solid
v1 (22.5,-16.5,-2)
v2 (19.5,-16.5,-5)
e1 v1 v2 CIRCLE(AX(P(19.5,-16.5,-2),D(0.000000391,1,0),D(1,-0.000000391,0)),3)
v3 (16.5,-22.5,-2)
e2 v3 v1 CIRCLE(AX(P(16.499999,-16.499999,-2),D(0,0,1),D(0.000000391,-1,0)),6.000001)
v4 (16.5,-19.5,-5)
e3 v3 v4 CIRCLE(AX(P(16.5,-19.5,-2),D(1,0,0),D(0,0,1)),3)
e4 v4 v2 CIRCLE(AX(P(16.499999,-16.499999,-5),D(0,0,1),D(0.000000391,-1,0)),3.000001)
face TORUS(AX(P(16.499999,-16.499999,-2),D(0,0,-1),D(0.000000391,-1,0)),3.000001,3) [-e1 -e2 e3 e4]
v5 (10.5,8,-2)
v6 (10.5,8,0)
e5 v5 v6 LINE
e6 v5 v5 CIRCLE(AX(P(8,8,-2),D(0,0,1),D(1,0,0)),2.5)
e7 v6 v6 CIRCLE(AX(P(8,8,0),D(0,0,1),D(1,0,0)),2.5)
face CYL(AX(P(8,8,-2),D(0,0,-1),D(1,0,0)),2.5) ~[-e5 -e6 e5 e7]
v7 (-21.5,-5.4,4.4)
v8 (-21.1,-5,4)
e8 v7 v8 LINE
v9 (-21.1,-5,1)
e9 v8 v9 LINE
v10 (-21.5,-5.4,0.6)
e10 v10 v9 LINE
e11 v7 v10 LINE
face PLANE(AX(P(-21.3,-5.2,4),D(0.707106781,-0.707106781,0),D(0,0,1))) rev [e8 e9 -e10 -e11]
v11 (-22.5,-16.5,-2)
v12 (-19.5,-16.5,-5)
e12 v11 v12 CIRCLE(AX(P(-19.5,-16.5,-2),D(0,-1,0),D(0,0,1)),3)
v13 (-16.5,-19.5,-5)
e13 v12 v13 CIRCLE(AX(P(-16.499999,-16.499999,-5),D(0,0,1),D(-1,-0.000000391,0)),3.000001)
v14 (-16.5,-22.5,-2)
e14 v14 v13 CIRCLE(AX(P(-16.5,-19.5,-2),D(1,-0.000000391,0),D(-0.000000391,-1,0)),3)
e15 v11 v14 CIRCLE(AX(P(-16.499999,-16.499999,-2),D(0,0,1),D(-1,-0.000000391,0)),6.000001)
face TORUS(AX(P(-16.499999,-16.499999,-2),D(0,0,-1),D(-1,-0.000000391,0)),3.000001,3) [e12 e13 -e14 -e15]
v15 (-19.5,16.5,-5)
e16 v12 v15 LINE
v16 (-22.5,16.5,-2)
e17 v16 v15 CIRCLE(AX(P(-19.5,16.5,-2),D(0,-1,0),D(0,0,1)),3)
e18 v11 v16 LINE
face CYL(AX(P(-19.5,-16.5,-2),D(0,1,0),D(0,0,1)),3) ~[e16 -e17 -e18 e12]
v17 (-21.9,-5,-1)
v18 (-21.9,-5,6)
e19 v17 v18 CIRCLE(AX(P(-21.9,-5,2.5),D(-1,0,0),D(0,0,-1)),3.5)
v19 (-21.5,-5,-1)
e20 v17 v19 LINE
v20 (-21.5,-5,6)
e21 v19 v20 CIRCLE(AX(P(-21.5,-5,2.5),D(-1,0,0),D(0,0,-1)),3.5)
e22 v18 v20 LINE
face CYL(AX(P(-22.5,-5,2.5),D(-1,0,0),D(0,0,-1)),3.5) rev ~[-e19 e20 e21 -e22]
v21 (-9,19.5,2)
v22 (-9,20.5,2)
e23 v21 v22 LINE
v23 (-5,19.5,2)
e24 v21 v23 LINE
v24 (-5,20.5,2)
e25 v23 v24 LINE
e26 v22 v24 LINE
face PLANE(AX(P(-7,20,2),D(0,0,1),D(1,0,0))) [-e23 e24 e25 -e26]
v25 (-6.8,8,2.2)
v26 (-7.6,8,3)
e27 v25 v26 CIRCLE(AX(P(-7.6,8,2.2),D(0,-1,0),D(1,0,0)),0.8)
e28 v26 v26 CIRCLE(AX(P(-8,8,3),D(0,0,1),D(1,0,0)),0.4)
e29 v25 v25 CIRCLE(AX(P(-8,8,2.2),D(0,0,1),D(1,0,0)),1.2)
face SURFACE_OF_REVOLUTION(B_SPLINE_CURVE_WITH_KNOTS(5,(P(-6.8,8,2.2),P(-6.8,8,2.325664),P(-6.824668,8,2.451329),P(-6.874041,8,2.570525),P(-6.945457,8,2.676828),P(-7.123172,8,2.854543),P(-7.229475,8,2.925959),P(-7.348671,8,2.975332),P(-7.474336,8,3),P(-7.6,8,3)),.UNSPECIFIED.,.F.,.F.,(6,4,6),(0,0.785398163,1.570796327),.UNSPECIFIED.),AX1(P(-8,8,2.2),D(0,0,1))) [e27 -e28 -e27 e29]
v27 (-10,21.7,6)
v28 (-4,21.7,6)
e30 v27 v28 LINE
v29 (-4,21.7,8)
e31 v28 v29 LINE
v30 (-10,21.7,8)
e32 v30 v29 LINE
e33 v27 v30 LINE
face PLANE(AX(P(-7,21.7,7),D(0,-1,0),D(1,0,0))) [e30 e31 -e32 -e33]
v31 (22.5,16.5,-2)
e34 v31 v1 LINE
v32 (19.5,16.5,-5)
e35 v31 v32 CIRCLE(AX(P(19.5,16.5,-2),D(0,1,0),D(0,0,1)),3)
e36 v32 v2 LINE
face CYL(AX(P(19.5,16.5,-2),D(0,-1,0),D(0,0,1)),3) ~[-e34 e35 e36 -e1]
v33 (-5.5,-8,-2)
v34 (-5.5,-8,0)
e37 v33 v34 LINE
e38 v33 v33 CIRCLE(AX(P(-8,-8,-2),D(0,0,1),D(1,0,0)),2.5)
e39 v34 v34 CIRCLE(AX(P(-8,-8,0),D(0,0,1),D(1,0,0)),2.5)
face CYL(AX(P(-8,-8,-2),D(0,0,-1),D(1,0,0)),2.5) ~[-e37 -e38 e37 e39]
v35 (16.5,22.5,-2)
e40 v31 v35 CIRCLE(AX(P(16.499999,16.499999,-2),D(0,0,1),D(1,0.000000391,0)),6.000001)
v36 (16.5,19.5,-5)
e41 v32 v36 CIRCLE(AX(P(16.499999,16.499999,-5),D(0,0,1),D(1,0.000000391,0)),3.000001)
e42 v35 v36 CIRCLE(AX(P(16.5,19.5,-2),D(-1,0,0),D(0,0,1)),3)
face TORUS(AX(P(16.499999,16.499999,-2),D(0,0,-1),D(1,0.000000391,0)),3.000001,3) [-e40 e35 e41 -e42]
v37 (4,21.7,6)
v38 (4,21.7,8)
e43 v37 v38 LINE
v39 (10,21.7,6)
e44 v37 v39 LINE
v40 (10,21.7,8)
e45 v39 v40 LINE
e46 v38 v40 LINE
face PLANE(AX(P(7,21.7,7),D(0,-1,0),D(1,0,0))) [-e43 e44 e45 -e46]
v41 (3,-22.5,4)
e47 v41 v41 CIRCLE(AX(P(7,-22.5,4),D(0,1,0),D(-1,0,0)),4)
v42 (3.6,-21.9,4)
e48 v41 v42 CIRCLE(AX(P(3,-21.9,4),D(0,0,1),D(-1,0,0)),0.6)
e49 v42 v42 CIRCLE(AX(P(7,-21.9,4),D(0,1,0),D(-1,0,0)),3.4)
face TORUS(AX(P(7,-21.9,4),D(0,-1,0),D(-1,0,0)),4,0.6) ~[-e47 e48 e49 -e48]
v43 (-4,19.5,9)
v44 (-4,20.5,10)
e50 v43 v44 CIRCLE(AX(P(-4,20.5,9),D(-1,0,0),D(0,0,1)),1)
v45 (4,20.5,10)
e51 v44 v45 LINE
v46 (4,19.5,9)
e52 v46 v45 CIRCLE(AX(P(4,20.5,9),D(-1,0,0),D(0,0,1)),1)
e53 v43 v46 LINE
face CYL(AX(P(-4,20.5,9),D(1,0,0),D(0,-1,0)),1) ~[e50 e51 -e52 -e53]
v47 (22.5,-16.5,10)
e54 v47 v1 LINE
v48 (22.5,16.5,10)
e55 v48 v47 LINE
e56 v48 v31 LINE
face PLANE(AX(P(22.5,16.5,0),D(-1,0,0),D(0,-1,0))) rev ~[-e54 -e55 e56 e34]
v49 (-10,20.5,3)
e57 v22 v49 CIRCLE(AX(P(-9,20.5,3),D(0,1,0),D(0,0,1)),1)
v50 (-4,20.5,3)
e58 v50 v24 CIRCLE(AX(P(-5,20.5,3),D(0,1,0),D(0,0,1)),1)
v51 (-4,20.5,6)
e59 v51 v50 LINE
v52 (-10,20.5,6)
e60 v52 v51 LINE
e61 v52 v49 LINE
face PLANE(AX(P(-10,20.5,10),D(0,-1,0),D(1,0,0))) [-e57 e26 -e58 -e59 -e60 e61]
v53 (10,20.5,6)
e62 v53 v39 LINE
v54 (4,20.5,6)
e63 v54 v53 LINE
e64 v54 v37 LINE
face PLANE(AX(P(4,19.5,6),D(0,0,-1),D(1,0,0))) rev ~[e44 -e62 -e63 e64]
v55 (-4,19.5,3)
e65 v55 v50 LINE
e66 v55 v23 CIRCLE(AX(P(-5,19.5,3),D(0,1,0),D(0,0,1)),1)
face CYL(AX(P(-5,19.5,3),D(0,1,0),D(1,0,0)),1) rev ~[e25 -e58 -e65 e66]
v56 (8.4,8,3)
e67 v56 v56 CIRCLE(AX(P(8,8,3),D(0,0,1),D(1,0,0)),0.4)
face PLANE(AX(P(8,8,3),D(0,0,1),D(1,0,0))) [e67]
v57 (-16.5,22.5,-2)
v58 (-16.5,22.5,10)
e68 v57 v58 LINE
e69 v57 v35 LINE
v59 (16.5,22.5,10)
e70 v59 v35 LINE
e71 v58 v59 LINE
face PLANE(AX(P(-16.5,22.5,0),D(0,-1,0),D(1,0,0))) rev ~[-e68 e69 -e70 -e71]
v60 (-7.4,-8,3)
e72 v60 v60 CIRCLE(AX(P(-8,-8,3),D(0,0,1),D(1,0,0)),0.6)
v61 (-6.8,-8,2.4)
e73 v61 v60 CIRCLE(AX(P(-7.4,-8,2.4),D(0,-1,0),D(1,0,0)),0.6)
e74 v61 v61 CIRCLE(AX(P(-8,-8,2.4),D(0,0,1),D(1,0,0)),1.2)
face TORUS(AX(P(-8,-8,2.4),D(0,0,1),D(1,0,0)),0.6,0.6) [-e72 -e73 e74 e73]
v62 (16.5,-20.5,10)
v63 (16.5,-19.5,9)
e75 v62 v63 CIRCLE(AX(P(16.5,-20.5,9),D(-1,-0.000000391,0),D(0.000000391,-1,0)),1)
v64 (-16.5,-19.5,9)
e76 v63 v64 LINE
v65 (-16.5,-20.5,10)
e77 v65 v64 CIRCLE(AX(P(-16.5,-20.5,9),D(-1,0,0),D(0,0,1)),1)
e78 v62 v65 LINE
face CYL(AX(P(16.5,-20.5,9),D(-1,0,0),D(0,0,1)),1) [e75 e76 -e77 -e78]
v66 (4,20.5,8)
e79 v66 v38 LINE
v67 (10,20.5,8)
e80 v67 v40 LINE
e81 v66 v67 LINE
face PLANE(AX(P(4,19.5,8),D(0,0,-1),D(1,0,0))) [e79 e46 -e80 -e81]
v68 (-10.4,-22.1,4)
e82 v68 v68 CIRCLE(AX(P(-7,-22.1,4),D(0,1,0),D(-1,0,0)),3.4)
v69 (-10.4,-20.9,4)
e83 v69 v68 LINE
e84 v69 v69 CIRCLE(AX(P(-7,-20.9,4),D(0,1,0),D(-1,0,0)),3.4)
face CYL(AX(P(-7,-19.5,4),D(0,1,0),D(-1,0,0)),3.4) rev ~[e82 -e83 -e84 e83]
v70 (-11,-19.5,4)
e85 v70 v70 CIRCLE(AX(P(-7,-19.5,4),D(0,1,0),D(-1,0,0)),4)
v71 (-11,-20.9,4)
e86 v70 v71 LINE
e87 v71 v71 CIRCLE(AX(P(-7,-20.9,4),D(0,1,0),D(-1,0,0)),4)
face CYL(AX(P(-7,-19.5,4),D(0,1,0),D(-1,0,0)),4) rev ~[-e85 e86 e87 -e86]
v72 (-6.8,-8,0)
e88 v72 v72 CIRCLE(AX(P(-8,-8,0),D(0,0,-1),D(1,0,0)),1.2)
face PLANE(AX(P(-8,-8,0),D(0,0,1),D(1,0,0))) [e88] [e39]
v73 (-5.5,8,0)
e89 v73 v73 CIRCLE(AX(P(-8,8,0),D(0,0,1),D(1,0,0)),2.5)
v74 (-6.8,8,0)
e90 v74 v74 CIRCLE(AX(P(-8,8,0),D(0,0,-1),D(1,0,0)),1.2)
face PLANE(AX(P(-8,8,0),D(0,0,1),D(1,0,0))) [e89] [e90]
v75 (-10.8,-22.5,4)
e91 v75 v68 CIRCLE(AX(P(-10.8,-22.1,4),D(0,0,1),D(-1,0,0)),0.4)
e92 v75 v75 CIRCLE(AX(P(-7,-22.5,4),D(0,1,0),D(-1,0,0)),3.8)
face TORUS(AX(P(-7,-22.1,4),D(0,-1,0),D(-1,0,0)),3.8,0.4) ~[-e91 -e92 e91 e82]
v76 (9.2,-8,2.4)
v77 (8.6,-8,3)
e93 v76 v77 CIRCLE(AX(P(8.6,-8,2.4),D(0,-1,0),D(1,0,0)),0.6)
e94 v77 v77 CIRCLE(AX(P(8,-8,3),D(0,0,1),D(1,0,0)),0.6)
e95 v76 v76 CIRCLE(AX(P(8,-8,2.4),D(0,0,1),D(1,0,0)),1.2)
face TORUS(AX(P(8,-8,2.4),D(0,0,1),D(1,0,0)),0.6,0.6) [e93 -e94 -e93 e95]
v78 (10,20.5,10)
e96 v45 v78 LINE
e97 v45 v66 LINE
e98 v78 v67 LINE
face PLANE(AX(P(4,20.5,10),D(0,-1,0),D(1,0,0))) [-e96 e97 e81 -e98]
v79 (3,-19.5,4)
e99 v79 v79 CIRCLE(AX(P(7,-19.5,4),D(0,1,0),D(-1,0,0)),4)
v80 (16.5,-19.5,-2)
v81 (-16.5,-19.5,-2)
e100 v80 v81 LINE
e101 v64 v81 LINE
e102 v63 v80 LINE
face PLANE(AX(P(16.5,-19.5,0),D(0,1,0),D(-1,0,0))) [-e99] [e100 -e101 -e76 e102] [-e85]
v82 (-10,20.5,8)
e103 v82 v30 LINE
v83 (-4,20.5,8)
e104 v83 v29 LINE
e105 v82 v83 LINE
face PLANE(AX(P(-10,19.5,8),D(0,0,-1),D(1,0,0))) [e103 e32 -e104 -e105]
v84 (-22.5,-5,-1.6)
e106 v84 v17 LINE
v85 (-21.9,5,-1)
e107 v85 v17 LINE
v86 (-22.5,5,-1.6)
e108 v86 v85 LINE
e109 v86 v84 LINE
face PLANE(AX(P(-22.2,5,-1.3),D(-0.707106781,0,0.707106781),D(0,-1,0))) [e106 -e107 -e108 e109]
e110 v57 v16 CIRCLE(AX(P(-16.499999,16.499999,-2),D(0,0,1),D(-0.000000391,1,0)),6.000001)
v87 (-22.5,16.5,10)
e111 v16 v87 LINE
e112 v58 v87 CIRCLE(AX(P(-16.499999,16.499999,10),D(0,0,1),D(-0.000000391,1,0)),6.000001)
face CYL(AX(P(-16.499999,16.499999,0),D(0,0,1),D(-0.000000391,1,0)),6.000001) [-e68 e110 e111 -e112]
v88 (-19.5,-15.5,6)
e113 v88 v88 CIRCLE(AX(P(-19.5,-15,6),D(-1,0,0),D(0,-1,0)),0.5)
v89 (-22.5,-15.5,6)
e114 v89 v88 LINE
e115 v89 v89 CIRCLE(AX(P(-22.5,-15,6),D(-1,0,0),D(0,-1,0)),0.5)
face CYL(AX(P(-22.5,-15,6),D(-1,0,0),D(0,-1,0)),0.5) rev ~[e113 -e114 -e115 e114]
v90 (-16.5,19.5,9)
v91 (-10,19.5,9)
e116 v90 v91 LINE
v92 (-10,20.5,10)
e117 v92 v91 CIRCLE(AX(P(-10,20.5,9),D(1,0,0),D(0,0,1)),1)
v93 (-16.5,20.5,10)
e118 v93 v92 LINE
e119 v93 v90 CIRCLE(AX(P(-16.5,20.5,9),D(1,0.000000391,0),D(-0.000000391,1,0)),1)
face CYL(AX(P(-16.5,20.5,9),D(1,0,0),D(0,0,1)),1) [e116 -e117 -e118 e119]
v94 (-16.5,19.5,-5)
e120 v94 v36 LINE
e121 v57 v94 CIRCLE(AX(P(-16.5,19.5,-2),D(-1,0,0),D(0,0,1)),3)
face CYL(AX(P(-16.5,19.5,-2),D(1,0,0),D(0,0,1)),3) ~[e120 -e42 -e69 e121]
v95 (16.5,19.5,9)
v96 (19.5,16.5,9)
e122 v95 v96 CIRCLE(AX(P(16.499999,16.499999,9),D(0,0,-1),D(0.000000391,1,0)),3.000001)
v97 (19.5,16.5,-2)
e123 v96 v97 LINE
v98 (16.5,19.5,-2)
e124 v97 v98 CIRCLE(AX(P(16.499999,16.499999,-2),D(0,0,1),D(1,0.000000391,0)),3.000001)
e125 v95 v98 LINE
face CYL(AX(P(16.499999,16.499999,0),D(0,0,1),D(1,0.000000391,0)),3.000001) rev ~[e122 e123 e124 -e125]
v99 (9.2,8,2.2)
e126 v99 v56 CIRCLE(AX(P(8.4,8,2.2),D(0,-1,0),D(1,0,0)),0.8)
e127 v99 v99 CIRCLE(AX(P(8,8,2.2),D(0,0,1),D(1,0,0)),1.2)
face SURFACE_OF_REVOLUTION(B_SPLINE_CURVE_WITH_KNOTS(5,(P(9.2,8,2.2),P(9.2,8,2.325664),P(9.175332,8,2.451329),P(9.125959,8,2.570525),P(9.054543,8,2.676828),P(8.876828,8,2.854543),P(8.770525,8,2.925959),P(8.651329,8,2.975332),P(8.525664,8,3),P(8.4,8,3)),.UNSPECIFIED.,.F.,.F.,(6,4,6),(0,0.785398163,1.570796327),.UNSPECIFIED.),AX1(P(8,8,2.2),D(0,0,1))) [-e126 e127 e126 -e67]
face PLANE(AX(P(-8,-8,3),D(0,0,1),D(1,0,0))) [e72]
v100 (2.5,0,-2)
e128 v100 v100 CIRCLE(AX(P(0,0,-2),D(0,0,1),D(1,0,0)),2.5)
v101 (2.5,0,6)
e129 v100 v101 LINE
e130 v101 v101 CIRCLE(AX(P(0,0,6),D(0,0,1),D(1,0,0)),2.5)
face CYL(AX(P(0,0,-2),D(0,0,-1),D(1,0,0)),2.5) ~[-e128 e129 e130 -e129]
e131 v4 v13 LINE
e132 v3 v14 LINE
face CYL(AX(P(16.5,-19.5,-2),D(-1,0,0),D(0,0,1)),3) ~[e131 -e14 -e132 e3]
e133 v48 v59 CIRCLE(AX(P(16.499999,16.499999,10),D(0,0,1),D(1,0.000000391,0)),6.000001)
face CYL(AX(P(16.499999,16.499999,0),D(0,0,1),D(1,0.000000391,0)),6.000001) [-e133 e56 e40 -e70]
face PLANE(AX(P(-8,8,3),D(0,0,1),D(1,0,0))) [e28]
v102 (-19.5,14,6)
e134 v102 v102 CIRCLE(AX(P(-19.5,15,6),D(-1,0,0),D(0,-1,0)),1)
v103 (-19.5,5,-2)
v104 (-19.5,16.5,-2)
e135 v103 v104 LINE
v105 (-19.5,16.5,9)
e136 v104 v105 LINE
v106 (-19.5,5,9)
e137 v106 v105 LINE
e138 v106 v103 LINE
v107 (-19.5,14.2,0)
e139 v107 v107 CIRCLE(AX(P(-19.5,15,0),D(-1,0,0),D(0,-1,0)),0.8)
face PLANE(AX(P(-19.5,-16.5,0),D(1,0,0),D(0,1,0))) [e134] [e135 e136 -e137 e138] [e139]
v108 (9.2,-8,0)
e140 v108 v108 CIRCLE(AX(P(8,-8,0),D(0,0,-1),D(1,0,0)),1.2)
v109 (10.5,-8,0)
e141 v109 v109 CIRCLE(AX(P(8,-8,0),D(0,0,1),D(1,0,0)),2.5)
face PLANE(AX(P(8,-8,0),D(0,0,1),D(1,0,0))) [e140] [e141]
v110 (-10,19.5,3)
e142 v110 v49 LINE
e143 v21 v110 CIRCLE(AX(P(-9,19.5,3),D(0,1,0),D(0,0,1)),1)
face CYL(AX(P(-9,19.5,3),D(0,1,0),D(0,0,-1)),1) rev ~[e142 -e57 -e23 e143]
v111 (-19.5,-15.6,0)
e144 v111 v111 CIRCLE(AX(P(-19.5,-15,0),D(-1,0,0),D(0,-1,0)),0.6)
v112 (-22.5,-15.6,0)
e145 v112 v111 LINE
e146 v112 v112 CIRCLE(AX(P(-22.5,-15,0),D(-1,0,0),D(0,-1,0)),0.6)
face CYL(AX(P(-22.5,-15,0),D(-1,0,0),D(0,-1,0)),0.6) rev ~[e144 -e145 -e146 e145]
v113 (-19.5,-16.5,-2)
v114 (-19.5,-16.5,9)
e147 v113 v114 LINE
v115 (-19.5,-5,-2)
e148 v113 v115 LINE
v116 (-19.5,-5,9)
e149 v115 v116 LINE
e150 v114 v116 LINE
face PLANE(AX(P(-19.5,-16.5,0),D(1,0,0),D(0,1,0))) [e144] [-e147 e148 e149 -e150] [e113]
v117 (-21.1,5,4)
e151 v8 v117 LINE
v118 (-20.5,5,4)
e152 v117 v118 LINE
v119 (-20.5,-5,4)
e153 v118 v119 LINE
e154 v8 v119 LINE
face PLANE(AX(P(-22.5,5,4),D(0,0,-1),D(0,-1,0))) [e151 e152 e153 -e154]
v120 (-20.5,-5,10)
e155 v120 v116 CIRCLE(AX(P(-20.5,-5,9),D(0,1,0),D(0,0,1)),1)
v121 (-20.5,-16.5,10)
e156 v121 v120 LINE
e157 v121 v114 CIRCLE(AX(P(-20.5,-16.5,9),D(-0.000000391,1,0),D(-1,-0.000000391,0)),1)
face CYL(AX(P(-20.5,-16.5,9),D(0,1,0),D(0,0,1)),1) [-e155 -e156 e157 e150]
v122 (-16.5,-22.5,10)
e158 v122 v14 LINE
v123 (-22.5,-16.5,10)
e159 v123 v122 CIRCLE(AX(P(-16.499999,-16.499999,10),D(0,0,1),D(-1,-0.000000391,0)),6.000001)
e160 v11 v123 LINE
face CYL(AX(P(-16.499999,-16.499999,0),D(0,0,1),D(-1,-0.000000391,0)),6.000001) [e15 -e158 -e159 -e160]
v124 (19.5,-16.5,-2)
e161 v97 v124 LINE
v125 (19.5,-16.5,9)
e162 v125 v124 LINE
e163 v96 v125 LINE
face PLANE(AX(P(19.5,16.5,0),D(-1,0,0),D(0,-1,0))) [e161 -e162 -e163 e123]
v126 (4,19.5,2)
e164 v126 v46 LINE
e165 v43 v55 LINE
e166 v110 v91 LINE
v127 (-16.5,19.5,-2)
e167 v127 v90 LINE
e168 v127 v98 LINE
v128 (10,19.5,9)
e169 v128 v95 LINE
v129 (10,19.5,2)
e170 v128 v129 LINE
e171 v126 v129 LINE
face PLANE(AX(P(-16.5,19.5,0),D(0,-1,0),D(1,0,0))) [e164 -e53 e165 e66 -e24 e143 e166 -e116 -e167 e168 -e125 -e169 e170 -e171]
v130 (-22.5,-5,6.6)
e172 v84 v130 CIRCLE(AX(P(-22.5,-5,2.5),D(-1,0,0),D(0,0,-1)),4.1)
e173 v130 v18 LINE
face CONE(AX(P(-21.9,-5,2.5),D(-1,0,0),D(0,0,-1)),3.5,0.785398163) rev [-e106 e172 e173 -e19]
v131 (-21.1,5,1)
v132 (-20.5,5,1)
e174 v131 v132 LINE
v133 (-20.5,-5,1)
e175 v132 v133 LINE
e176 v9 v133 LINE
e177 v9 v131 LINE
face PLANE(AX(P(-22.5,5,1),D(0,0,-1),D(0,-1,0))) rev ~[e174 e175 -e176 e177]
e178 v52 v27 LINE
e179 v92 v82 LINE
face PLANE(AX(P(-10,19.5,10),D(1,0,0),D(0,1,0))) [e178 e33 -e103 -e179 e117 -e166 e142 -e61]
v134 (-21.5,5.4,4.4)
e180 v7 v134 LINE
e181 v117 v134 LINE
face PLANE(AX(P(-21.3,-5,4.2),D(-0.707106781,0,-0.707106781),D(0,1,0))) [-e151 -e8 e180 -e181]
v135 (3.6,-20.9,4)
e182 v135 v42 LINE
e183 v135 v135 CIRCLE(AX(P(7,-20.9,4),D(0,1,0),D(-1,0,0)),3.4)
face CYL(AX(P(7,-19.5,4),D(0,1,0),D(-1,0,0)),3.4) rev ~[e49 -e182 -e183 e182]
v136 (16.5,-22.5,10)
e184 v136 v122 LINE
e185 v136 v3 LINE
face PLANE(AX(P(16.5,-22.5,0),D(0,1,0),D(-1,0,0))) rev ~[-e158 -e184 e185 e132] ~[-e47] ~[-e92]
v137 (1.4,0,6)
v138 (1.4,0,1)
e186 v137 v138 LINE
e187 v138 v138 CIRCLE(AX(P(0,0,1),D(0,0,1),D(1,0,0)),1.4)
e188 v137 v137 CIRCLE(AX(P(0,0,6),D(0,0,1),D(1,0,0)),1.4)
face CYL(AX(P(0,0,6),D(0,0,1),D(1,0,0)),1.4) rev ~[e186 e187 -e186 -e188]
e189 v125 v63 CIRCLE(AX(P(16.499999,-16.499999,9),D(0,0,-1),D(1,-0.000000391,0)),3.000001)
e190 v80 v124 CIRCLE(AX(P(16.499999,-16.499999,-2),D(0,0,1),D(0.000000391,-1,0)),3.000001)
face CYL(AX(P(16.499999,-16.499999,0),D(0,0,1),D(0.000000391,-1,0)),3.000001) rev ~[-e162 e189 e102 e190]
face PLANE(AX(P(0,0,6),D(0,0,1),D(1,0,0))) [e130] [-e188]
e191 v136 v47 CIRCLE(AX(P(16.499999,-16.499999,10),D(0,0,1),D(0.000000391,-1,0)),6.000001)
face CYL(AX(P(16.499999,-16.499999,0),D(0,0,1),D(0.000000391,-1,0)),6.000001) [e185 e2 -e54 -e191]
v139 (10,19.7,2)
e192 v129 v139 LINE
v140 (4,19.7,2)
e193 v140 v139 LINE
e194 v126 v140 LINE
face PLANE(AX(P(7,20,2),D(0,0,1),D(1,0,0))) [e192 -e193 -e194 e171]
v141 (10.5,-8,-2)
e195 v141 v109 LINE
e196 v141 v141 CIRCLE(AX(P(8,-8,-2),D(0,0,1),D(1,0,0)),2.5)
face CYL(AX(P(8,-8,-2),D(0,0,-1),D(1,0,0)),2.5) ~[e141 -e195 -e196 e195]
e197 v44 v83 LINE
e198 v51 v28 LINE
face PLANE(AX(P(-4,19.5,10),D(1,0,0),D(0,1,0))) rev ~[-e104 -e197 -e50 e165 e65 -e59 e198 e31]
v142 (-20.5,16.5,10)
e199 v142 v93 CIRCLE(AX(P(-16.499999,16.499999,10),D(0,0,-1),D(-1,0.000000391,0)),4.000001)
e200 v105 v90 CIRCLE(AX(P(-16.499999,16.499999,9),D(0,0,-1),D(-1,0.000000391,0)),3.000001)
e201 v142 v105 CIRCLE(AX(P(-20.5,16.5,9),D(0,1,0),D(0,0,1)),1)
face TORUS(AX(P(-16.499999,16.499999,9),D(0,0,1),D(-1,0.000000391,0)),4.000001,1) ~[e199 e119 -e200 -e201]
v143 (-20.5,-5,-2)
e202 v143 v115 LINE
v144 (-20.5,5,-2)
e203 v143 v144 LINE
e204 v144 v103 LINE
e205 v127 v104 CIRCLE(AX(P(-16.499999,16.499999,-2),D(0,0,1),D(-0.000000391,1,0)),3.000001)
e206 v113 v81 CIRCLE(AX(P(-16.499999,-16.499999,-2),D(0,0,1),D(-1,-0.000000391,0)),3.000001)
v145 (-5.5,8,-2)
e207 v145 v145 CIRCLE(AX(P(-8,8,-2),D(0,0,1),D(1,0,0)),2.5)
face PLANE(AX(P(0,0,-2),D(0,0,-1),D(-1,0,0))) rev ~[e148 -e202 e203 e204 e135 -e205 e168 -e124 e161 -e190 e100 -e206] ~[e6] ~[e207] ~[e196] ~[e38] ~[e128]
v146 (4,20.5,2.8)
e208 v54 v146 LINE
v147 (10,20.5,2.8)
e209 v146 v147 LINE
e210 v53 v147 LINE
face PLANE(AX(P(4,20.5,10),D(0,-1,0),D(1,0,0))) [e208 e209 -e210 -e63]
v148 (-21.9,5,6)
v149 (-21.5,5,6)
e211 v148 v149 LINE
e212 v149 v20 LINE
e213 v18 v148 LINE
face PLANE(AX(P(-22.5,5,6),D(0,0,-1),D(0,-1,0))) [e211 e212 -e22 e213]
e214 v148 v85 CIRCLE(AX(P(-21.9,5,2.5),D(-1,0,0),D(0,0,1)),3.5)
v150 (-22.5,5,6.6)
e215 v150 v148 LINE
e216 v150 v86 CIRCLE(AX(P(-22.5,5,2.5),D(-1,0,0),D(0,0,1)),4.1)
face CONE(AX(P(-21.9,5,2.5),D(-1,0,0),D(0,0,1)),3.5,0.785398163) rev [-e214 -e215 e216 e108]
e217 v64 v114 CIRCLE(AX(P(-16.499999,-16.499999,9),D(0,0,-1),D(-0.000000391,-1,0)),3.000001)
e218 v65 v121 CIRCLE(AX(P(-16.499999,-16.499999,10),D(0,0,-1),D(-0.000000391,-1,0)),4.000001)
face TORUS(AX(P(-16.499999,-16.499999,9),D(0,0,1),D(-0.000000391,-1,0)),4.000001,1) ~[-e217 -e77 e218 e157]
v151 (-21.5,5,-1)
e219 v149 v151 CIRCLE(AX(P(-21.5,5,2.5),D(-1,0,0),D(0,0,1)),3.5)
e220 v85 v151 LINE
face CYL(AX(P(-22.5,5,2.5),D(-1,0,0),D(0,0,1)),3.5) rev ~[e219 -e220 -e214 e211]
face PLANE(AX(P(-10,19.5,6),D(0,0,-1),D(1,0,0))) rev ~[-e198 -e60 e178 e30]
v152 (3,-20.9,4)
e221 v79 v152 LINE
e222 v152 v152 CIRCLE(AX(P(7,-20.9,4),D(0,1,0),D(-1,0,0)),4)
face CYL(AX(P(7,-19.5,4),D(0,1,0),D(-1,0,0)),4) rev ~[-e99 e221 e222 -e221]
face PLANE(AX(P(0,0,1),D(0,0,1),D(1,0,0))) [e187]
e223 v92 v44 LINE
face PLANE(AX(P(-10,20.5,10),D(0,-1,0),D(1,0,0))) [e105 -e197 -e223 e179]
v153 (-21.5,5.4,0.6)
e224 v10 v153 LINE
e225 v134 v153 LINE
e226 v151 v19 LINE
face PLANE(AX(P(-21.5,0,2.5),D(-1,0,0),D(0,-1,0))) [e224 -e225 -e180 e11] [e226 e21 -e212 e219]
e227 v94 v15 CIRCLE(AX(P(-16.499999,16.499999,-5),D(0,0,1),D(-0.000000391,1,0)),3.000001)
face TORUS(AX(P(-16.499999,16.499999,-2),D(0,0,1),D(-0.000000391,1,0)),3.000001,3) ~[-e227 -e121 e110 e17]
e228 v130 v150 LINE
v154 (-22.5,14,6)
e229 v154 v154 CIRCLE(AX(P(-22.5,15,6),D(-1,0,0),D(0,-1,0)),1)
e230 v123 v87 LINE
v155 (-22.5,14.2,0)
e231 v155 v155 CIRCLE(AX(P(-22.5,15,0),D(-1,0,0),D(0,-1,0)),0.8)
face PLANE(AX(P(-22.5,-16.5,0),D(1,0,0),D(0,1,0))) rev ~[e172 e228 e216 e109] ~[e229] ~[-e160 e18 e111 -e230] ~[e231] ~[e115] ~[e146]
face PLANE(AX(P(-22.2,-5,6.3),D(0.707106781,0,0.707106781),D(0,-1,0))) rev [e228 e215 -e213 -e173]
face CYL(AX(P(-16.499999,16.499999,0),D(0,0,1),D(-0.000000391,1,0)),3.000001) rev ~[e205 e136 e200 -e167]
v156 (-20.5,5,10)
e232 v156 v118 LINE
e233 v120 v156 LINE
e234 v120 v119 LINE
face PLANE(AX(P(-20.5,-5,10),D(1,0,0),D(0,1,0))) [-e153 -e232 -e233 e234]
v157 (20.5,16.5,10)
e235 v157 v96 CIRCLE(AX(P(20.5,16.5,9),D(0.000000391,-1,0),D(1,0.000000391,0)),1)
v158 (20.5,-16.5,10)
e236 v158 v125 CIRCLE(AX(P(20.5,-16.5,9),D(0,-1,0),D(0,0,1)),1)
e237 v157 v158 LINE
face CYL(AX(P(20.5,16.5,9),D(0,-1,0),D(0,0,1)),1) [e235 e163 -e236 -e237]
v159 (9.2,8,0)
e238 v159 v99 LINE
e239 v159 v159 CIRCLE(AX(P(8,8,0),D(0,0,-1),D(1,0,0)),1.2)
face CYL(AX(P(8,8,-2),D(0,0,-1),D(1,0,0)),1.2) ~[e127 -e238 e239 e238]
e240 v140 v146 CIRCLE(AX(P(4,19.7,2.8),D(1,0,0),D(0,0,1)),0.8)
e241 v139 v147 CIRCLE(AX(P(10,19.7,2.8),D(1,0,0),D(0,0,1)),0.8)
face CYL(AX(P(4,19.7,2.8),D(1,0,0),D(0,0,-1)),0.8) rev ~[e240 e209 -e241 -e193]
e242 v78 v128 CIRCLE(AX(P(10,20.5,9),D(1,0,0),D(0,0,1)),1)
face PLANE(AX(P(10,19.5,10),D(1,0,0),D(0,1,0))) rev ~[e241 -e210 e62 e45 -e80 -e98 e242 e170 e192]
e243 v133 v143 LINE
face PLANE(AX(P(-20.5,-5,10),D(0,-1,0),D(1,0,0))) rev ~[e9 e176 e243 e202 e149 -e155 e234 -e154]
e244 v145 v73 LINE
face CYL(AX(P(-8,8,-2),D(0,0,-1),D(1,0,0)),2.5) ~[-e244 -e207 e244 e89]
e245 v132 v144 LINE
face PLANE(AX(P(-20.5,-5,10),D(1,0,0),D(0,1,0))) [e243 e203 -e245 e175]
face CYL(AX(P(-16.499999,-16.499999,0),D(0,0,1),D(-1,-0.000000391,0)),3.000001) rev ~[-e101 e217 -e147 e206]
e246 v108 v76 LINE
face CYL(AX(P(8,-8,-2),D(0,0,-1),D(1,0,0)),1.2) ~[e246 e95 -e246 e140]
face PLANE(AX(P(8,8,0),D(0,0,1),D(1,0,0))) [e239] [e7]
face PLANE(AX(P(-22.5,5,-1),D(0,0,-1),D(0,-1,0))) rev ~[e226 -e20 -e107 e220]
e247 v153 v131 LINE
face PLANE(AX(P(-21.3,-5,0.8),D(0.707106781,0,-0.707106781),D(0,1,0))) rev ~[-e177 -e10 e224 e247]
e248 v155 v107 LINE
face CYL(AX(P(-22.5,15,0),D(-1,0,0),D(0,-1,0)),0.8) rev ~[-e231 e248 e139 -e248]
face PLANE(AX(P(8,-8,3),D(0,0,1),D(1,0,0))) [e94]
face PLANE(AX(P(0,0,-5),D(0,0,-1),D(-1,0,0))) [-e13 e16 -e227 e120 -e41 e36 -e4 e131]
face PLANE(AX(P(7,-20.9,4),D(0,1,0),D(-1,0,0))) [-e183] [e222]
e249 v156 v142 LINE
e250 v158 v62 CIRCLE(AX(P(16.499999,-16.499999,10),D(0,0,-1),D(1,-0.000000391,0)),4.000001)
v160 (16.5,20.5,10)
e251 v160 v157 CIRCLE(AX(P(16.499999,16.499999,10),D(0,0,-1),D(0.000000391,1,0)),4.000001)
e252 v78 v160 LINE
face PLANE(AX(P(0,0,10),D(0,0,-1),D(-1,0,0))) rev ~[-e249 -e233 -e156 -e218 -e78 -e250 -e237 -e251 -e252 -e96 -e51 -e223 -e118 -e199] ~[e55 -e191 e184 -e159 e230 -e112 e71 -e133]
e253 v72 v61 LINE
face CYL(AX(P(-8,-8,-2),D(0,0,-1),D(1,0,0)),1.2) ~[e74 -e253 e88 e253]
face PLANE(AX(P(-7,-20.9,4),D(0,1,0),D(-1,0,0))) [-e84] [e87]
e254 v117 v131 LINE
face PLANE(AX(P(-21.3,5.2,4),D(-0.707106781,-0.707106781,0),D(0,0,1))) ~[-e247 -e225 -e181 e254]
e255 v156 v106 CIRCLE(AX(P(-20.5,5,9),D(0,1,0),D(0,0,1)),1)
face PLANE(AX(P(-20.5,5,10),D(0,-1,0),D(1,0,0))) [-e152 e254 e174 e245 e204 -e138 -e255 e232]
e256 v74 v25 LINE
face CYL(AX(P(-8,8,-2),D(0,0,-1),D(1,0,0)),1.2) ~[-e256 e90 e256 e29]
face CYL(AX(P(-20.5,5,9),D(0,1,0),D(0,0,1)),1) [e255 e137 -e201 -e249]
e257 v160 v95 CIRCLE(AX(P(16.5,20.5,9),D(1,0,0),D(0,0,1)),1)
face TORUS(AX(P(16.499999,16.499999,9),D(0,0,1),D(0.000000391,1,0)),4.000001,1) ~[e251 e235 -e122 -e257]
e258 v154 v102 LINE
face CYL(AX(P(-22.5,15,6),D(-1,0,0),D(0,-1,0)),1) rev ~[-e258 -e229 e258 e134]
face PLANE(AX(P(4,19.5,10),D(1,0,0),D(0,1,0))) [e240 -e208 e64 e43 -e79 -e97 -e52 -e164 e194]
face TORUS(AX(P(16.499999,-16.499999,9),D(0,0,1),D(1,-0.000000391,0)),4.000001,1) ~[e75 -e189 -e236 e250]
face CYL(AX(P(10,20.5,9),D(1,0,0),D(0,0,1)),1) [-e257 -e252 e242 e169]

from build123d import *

# Parameters (mm, degrees)
PAD_DEPTH       = 10
PAD_DEPTH_BACK  = 2
THICKNESS_T     = 3
SKETCH002_W     = 10
SKETCH002_H     = 3
POCKET_DEPTH    = 3
POCKET001_DEPTH = 1
SKETCH004_R     = 4
POCKET002_DEPTH = 1.4
SKETCH005_R     = 3.4
POCKET003_DEPTH = 3.001
SKETCH006_W     = 1
SKETCH006_H     = 10
POCKET004_DEPTH = 12
SKETCH007_W     = 6
SKETCH007_H     = 1
POCKET005_DEPTH = 8
SKETCH008_W     = 6
SKETCH008_H     = 2
POCKET006_DEPTH = 2.2
SKETCH009_R     = 2.5
PAD001_DEPTH    = 2
SKETCH010_R     = 1.2
PAD002_DEPTH    = 5
SKETCH011_R     = 0.6
SKETCH011_R_2   = 0.5
SKETCH011_R_3   = 0.8
SKETCH011_R_4   = 1
POCKET007_DEPTH = 3
SKETCH012_R     = 2.5
PAD003_DEPTH    = 8
SKETCH013_R     = 1.4
POCKET008_DEPTH = 5
FILLET001_R     = 0.4
FILLET_R        = 0.6
FILLET002_R     = 0.8
FILLET003_R     = 0.6
CHAMFER_SIZE    = 0.6
CHAMFER001_SIZE = 0.4
FILLET004_R     = 0.8
FILLET005_R     = 1
FILLET006_R     = 1


with BuildPart() as part:
    # Sketch001 → Pad (new body, two sides)
    with BuildSketch(Plane.XY) as pad_sk:
        with BuildLine():
            Line((-16.5, 19.5), (16.5, 19.5))
            ThreePointArc((19.5, 16.5), (18.62132, 18.62132), (16.5, 19.5))
            Line((19.5, 16.5), (19.5, -16.5))
            ThreePointArc((16.5, -19.5), (18.62132, -18.62132), (19.5, -16.5))
            Line((16.5, -19.5), (-16.5, -19.5))
            ThreePointArc((-19.5, -16.5), (-18.62132, -18.62132), (-16.5, -19.5))
            Line((-19.5, -16.5), (-19.5, 16.5))
            ThreePointArc((-16.5, 19.5), (-18.62132, 18.62132), (-19.5, 16.5))
        make_face()
    extrude(amount=PAD_DEPTH)
    extrude(pad_sk.sketch, amount=-PAD_DEPTH_BACK)

    # Thickness
    thickness_openings = [part.faces().sort_by_distance(p)[0] for p in [
        (0, 0, 10),
    ]]
    offset(amount=THICKNESS_T, openings=thickness_openings)

    # Sketch002 (on Face17 of Thickness) → Pocket (cut)
    with BuildSketch(Plane(origin=(-22.5, 0, 0), x_dir=(0, -1, 0), z_dir=(-1, 0, 0))):
        with Locations((0, 2.5)):
            Rectangle(SKETCH002_W, SKETCH002_H)
    extrude(amount=-POCKET_DEPTH, mode=Mode.SUBTRACT)

    # Sketch003 (on Face11 of Pocket) → Pocket001 (cut)
    with BuildSketch(Plane(origin=(-22.5, 0, 0), x_dir=(0, -1, 0), z_dir=(-1, 0, 0))):
        with BuildLine():
            ThreePointArc((-5, 6), (-8.5, 2.5), (-5, -1))
            Line((-5, -1), (5, -1))
            ThreePointArc((5, -1), (8.5, 2.5), (5, 6))
            Line((-5, 6), (5, 6))
        make_face()
    extrude(amount=-POCKET001_DEPTH, mode=Mode.SUBTRACT)

    # Sketch004 (on Face9 of Pocket001) → Pocket002 (cut)
    with BuildSketch(Plane(origin=(0, -19.5, 0), x_dir=(-1, 0, 0), z_dir=(0, 1, 0))):
        with Locations((-7, 4)):
            Circle(SKETCH004_R)
        with Locations((7, 4)):
            Circle(SKETCH004_R)
    extrude(amount=-POCKET002_DEPTH, mode=Mode.SUBTRACT)

    # Sketch005 (on Face9 of Pocket002) → Pocket003 (cut, through all)
    with BuildSketch(Plane(origin=(0, -19.5, 0), x_dir=(-1, 0, 0), z_dir=(0, 1, 0))):
        with Locations((7, 4)):
            Circle(SKETCH005_R)
        with Locations((-7, 4)):
            Circle(SKETCH005_R)
    extrude(amount=-POCKET003_DEPTH, mode=Mode.SUBTRACT)

    # Sketch006 (on Face5 of Pocket003) → Pocket004 (cut)
    with BuildSketch(Plane.XY.offset(10)):
        with Locations((-20, 0)):
            Rectangle(SKETCH006_W, SKETCH006_H)
    extrude(amount=-POCKET004_DEPTH, mode=Mode.SUBTRACT)

    # Sketch007 (on Face5 of Pocket004) → Pocket005 (cut)
    with BuildSketch(Plane.XY.offset(10)):
        with Locations((-7, 20)):
            Rectangle(SKETCH007_W, SKETCH007_H)
        with Locations((7, 20)):
            Rectangle(SKETCH007_W, SKETCH007_H)
    extrude(amount=-POCKET005_DEPTH, mode=Mode.SUBTRACT)

    # Sketch008 (on Face1 of Pocket005) → Pocket006 (cut)
    with BuildSketch(Plane.XZ.offset(-19.5)):
        with Locations((-7, 7)):
            Rectangle(SKETCH008_W, SKETCH008_H)
        with Locations((7, 7)):
            Rectangle(SKETCH008_W, SKETCH008_H)
    extrude(amount=-POCKET006_DEPTH, mode=Mode.SUBTRACT)

    # Sketch009 (on Face2 of Pocket006) → Pad001 (join)
    with BuildSketch(Plane.XY.offset(-2)):
        with Locations((-8, 8)):
            Circle(SKETCH009_R)
        with Locations((8, 8)):
            Circle(SKETCH009_R)
        with Locations((8, -8)):
            Circle(SKETCH009_R)
        with Locations((-8, -8)):
            Circle(SKETCH009_R)
    extrude(amount=PAD001_DEPTH)

    # Sketch010 (on Face2 of Pad001) → Pad002 (join)
    with BuildSketch(Plane.XY.offset(-2)):
        with Locations((-8, 8)):
            Circle(SKETCH010_R)
        with Locations((8, 8)):
            Circle(SKETCH010_R)
        with Locations((8, -8)):
            Circle(SKETCH010_R)
        with Locations((-8, -8)):
            Circle(SKETCH010_R)
    extrude(amount=PAD002_DEPTH)

    # Sketch011 → Pocket007 (cut)
    with BuildSketch(Plane(origin=(-22.5, 0, 0), x_dir=(0, -1, 0), z_dir=(-1, 0, 0))):
        with Locations((15, 0)):
            Circle(SKETCH011_R)
        with Locations((15, 6)):
            Circle(SKETCH011_R_2)
        with Locations((-15, 0)):
            Circle(SKETCH011_R_3)
        with Locations((-15, 6)):
            Circle(SKETCH011_R_4)
    extrude(amount=-POCKET007_DEPTH, mode=Mode.SUBTRACT)

    # Sketch012 (on Face2 of Pocket007) → Pad003 (join)
    with BuildSketch(Plane.XY.offset(-2)):
        Circle(SKETCH012_R)
    extrude(amount=PAD003_DEPTH)

    # Sketch013 (on Face63 of Pad003) → Pocket008 (cut)
    with BuildSketch(Plane.XY.offset(6)):
        Circle(SKETCH013_R)
    extrude(amount=-POCKET008_DEPTH, mode=Mode.SUBTRACT)

    # Fillet001
    fillet001_edges = [part.edges().sort_by_distance(p)[0] for p in [
        (-3.6, -22.5, 4),
    ]]
    fillet(fillet001_edges, radius=FILLET001_R)

    # Fillet
    fillet_edges = [part.edges().sort_by_distance(p)[0] for p in [
        (10.4, -22.5, 4),
    ]]
    fillet(fillet_edges, radius=FILLET_R)

    # Fillet002
    fillet002_edges = [part.edges().sort_by_distance(p)[0] for p in [
        (-9.2, 8, 3),
        (6.8, 8, 3),
    ]]
    fillet(fillet002_edges, radius=FILLET002_R)

    # Fillet003
    fillet003_edges = [part.edges().sort_by_distance(p)[0] for p in [
        (-9.2, -8, 3),
        (6.8, -8, 3),
    ]]
    fillet(fillet003_edges, radius=FILLET003_R)

    # Chamfer
    chamfer_edges = [part.edges().sort_by_distance(p)[0] for p in [
        (-22.5, 0, -1),
    ]]
    chamfer(chamfer_edges, length=CHAMFER_SIZE)

    # Chamfer001
    chamfer001_edges = [part.edges().sort_by_distance(p)[0] for p in [
        (-21.5, 0, 1),
        (-21.5, 5, 2.5),
        (-21.5, 0, 4),
        (-21.5, -5, 2.5),
    ]]
    chamfer(chamfer001_edges, length=CHAMFER001_SIZE)

    # Fillet004
    fillet004_edges = [part.edges().sort_by_distance(p)[0] for p in [
        (7, 20.5, 2),
    ]]
    fillet(fillet004_edges, radius=FILLET004_R)

    # Fillet005
    fillet005_edges = [part.edges().sort_by_distance(p)[0] for p in [
        (-10, 20, 2),
        (-4, 20, 2),
    ]]
    fillet(fillet005_edges, radius=FILLET005_R)

    # Fillet006
    fillet006_edges = [part.edges().sort_by_distance(p)[0] for p in [
        (0, -19.5, 10),
        (-19.5, 10.75, 10),
        (0, 19.5, 10),
    ]]
    fillet(fillet006_edges, radius=FILLET006_R)


solid = part.part
